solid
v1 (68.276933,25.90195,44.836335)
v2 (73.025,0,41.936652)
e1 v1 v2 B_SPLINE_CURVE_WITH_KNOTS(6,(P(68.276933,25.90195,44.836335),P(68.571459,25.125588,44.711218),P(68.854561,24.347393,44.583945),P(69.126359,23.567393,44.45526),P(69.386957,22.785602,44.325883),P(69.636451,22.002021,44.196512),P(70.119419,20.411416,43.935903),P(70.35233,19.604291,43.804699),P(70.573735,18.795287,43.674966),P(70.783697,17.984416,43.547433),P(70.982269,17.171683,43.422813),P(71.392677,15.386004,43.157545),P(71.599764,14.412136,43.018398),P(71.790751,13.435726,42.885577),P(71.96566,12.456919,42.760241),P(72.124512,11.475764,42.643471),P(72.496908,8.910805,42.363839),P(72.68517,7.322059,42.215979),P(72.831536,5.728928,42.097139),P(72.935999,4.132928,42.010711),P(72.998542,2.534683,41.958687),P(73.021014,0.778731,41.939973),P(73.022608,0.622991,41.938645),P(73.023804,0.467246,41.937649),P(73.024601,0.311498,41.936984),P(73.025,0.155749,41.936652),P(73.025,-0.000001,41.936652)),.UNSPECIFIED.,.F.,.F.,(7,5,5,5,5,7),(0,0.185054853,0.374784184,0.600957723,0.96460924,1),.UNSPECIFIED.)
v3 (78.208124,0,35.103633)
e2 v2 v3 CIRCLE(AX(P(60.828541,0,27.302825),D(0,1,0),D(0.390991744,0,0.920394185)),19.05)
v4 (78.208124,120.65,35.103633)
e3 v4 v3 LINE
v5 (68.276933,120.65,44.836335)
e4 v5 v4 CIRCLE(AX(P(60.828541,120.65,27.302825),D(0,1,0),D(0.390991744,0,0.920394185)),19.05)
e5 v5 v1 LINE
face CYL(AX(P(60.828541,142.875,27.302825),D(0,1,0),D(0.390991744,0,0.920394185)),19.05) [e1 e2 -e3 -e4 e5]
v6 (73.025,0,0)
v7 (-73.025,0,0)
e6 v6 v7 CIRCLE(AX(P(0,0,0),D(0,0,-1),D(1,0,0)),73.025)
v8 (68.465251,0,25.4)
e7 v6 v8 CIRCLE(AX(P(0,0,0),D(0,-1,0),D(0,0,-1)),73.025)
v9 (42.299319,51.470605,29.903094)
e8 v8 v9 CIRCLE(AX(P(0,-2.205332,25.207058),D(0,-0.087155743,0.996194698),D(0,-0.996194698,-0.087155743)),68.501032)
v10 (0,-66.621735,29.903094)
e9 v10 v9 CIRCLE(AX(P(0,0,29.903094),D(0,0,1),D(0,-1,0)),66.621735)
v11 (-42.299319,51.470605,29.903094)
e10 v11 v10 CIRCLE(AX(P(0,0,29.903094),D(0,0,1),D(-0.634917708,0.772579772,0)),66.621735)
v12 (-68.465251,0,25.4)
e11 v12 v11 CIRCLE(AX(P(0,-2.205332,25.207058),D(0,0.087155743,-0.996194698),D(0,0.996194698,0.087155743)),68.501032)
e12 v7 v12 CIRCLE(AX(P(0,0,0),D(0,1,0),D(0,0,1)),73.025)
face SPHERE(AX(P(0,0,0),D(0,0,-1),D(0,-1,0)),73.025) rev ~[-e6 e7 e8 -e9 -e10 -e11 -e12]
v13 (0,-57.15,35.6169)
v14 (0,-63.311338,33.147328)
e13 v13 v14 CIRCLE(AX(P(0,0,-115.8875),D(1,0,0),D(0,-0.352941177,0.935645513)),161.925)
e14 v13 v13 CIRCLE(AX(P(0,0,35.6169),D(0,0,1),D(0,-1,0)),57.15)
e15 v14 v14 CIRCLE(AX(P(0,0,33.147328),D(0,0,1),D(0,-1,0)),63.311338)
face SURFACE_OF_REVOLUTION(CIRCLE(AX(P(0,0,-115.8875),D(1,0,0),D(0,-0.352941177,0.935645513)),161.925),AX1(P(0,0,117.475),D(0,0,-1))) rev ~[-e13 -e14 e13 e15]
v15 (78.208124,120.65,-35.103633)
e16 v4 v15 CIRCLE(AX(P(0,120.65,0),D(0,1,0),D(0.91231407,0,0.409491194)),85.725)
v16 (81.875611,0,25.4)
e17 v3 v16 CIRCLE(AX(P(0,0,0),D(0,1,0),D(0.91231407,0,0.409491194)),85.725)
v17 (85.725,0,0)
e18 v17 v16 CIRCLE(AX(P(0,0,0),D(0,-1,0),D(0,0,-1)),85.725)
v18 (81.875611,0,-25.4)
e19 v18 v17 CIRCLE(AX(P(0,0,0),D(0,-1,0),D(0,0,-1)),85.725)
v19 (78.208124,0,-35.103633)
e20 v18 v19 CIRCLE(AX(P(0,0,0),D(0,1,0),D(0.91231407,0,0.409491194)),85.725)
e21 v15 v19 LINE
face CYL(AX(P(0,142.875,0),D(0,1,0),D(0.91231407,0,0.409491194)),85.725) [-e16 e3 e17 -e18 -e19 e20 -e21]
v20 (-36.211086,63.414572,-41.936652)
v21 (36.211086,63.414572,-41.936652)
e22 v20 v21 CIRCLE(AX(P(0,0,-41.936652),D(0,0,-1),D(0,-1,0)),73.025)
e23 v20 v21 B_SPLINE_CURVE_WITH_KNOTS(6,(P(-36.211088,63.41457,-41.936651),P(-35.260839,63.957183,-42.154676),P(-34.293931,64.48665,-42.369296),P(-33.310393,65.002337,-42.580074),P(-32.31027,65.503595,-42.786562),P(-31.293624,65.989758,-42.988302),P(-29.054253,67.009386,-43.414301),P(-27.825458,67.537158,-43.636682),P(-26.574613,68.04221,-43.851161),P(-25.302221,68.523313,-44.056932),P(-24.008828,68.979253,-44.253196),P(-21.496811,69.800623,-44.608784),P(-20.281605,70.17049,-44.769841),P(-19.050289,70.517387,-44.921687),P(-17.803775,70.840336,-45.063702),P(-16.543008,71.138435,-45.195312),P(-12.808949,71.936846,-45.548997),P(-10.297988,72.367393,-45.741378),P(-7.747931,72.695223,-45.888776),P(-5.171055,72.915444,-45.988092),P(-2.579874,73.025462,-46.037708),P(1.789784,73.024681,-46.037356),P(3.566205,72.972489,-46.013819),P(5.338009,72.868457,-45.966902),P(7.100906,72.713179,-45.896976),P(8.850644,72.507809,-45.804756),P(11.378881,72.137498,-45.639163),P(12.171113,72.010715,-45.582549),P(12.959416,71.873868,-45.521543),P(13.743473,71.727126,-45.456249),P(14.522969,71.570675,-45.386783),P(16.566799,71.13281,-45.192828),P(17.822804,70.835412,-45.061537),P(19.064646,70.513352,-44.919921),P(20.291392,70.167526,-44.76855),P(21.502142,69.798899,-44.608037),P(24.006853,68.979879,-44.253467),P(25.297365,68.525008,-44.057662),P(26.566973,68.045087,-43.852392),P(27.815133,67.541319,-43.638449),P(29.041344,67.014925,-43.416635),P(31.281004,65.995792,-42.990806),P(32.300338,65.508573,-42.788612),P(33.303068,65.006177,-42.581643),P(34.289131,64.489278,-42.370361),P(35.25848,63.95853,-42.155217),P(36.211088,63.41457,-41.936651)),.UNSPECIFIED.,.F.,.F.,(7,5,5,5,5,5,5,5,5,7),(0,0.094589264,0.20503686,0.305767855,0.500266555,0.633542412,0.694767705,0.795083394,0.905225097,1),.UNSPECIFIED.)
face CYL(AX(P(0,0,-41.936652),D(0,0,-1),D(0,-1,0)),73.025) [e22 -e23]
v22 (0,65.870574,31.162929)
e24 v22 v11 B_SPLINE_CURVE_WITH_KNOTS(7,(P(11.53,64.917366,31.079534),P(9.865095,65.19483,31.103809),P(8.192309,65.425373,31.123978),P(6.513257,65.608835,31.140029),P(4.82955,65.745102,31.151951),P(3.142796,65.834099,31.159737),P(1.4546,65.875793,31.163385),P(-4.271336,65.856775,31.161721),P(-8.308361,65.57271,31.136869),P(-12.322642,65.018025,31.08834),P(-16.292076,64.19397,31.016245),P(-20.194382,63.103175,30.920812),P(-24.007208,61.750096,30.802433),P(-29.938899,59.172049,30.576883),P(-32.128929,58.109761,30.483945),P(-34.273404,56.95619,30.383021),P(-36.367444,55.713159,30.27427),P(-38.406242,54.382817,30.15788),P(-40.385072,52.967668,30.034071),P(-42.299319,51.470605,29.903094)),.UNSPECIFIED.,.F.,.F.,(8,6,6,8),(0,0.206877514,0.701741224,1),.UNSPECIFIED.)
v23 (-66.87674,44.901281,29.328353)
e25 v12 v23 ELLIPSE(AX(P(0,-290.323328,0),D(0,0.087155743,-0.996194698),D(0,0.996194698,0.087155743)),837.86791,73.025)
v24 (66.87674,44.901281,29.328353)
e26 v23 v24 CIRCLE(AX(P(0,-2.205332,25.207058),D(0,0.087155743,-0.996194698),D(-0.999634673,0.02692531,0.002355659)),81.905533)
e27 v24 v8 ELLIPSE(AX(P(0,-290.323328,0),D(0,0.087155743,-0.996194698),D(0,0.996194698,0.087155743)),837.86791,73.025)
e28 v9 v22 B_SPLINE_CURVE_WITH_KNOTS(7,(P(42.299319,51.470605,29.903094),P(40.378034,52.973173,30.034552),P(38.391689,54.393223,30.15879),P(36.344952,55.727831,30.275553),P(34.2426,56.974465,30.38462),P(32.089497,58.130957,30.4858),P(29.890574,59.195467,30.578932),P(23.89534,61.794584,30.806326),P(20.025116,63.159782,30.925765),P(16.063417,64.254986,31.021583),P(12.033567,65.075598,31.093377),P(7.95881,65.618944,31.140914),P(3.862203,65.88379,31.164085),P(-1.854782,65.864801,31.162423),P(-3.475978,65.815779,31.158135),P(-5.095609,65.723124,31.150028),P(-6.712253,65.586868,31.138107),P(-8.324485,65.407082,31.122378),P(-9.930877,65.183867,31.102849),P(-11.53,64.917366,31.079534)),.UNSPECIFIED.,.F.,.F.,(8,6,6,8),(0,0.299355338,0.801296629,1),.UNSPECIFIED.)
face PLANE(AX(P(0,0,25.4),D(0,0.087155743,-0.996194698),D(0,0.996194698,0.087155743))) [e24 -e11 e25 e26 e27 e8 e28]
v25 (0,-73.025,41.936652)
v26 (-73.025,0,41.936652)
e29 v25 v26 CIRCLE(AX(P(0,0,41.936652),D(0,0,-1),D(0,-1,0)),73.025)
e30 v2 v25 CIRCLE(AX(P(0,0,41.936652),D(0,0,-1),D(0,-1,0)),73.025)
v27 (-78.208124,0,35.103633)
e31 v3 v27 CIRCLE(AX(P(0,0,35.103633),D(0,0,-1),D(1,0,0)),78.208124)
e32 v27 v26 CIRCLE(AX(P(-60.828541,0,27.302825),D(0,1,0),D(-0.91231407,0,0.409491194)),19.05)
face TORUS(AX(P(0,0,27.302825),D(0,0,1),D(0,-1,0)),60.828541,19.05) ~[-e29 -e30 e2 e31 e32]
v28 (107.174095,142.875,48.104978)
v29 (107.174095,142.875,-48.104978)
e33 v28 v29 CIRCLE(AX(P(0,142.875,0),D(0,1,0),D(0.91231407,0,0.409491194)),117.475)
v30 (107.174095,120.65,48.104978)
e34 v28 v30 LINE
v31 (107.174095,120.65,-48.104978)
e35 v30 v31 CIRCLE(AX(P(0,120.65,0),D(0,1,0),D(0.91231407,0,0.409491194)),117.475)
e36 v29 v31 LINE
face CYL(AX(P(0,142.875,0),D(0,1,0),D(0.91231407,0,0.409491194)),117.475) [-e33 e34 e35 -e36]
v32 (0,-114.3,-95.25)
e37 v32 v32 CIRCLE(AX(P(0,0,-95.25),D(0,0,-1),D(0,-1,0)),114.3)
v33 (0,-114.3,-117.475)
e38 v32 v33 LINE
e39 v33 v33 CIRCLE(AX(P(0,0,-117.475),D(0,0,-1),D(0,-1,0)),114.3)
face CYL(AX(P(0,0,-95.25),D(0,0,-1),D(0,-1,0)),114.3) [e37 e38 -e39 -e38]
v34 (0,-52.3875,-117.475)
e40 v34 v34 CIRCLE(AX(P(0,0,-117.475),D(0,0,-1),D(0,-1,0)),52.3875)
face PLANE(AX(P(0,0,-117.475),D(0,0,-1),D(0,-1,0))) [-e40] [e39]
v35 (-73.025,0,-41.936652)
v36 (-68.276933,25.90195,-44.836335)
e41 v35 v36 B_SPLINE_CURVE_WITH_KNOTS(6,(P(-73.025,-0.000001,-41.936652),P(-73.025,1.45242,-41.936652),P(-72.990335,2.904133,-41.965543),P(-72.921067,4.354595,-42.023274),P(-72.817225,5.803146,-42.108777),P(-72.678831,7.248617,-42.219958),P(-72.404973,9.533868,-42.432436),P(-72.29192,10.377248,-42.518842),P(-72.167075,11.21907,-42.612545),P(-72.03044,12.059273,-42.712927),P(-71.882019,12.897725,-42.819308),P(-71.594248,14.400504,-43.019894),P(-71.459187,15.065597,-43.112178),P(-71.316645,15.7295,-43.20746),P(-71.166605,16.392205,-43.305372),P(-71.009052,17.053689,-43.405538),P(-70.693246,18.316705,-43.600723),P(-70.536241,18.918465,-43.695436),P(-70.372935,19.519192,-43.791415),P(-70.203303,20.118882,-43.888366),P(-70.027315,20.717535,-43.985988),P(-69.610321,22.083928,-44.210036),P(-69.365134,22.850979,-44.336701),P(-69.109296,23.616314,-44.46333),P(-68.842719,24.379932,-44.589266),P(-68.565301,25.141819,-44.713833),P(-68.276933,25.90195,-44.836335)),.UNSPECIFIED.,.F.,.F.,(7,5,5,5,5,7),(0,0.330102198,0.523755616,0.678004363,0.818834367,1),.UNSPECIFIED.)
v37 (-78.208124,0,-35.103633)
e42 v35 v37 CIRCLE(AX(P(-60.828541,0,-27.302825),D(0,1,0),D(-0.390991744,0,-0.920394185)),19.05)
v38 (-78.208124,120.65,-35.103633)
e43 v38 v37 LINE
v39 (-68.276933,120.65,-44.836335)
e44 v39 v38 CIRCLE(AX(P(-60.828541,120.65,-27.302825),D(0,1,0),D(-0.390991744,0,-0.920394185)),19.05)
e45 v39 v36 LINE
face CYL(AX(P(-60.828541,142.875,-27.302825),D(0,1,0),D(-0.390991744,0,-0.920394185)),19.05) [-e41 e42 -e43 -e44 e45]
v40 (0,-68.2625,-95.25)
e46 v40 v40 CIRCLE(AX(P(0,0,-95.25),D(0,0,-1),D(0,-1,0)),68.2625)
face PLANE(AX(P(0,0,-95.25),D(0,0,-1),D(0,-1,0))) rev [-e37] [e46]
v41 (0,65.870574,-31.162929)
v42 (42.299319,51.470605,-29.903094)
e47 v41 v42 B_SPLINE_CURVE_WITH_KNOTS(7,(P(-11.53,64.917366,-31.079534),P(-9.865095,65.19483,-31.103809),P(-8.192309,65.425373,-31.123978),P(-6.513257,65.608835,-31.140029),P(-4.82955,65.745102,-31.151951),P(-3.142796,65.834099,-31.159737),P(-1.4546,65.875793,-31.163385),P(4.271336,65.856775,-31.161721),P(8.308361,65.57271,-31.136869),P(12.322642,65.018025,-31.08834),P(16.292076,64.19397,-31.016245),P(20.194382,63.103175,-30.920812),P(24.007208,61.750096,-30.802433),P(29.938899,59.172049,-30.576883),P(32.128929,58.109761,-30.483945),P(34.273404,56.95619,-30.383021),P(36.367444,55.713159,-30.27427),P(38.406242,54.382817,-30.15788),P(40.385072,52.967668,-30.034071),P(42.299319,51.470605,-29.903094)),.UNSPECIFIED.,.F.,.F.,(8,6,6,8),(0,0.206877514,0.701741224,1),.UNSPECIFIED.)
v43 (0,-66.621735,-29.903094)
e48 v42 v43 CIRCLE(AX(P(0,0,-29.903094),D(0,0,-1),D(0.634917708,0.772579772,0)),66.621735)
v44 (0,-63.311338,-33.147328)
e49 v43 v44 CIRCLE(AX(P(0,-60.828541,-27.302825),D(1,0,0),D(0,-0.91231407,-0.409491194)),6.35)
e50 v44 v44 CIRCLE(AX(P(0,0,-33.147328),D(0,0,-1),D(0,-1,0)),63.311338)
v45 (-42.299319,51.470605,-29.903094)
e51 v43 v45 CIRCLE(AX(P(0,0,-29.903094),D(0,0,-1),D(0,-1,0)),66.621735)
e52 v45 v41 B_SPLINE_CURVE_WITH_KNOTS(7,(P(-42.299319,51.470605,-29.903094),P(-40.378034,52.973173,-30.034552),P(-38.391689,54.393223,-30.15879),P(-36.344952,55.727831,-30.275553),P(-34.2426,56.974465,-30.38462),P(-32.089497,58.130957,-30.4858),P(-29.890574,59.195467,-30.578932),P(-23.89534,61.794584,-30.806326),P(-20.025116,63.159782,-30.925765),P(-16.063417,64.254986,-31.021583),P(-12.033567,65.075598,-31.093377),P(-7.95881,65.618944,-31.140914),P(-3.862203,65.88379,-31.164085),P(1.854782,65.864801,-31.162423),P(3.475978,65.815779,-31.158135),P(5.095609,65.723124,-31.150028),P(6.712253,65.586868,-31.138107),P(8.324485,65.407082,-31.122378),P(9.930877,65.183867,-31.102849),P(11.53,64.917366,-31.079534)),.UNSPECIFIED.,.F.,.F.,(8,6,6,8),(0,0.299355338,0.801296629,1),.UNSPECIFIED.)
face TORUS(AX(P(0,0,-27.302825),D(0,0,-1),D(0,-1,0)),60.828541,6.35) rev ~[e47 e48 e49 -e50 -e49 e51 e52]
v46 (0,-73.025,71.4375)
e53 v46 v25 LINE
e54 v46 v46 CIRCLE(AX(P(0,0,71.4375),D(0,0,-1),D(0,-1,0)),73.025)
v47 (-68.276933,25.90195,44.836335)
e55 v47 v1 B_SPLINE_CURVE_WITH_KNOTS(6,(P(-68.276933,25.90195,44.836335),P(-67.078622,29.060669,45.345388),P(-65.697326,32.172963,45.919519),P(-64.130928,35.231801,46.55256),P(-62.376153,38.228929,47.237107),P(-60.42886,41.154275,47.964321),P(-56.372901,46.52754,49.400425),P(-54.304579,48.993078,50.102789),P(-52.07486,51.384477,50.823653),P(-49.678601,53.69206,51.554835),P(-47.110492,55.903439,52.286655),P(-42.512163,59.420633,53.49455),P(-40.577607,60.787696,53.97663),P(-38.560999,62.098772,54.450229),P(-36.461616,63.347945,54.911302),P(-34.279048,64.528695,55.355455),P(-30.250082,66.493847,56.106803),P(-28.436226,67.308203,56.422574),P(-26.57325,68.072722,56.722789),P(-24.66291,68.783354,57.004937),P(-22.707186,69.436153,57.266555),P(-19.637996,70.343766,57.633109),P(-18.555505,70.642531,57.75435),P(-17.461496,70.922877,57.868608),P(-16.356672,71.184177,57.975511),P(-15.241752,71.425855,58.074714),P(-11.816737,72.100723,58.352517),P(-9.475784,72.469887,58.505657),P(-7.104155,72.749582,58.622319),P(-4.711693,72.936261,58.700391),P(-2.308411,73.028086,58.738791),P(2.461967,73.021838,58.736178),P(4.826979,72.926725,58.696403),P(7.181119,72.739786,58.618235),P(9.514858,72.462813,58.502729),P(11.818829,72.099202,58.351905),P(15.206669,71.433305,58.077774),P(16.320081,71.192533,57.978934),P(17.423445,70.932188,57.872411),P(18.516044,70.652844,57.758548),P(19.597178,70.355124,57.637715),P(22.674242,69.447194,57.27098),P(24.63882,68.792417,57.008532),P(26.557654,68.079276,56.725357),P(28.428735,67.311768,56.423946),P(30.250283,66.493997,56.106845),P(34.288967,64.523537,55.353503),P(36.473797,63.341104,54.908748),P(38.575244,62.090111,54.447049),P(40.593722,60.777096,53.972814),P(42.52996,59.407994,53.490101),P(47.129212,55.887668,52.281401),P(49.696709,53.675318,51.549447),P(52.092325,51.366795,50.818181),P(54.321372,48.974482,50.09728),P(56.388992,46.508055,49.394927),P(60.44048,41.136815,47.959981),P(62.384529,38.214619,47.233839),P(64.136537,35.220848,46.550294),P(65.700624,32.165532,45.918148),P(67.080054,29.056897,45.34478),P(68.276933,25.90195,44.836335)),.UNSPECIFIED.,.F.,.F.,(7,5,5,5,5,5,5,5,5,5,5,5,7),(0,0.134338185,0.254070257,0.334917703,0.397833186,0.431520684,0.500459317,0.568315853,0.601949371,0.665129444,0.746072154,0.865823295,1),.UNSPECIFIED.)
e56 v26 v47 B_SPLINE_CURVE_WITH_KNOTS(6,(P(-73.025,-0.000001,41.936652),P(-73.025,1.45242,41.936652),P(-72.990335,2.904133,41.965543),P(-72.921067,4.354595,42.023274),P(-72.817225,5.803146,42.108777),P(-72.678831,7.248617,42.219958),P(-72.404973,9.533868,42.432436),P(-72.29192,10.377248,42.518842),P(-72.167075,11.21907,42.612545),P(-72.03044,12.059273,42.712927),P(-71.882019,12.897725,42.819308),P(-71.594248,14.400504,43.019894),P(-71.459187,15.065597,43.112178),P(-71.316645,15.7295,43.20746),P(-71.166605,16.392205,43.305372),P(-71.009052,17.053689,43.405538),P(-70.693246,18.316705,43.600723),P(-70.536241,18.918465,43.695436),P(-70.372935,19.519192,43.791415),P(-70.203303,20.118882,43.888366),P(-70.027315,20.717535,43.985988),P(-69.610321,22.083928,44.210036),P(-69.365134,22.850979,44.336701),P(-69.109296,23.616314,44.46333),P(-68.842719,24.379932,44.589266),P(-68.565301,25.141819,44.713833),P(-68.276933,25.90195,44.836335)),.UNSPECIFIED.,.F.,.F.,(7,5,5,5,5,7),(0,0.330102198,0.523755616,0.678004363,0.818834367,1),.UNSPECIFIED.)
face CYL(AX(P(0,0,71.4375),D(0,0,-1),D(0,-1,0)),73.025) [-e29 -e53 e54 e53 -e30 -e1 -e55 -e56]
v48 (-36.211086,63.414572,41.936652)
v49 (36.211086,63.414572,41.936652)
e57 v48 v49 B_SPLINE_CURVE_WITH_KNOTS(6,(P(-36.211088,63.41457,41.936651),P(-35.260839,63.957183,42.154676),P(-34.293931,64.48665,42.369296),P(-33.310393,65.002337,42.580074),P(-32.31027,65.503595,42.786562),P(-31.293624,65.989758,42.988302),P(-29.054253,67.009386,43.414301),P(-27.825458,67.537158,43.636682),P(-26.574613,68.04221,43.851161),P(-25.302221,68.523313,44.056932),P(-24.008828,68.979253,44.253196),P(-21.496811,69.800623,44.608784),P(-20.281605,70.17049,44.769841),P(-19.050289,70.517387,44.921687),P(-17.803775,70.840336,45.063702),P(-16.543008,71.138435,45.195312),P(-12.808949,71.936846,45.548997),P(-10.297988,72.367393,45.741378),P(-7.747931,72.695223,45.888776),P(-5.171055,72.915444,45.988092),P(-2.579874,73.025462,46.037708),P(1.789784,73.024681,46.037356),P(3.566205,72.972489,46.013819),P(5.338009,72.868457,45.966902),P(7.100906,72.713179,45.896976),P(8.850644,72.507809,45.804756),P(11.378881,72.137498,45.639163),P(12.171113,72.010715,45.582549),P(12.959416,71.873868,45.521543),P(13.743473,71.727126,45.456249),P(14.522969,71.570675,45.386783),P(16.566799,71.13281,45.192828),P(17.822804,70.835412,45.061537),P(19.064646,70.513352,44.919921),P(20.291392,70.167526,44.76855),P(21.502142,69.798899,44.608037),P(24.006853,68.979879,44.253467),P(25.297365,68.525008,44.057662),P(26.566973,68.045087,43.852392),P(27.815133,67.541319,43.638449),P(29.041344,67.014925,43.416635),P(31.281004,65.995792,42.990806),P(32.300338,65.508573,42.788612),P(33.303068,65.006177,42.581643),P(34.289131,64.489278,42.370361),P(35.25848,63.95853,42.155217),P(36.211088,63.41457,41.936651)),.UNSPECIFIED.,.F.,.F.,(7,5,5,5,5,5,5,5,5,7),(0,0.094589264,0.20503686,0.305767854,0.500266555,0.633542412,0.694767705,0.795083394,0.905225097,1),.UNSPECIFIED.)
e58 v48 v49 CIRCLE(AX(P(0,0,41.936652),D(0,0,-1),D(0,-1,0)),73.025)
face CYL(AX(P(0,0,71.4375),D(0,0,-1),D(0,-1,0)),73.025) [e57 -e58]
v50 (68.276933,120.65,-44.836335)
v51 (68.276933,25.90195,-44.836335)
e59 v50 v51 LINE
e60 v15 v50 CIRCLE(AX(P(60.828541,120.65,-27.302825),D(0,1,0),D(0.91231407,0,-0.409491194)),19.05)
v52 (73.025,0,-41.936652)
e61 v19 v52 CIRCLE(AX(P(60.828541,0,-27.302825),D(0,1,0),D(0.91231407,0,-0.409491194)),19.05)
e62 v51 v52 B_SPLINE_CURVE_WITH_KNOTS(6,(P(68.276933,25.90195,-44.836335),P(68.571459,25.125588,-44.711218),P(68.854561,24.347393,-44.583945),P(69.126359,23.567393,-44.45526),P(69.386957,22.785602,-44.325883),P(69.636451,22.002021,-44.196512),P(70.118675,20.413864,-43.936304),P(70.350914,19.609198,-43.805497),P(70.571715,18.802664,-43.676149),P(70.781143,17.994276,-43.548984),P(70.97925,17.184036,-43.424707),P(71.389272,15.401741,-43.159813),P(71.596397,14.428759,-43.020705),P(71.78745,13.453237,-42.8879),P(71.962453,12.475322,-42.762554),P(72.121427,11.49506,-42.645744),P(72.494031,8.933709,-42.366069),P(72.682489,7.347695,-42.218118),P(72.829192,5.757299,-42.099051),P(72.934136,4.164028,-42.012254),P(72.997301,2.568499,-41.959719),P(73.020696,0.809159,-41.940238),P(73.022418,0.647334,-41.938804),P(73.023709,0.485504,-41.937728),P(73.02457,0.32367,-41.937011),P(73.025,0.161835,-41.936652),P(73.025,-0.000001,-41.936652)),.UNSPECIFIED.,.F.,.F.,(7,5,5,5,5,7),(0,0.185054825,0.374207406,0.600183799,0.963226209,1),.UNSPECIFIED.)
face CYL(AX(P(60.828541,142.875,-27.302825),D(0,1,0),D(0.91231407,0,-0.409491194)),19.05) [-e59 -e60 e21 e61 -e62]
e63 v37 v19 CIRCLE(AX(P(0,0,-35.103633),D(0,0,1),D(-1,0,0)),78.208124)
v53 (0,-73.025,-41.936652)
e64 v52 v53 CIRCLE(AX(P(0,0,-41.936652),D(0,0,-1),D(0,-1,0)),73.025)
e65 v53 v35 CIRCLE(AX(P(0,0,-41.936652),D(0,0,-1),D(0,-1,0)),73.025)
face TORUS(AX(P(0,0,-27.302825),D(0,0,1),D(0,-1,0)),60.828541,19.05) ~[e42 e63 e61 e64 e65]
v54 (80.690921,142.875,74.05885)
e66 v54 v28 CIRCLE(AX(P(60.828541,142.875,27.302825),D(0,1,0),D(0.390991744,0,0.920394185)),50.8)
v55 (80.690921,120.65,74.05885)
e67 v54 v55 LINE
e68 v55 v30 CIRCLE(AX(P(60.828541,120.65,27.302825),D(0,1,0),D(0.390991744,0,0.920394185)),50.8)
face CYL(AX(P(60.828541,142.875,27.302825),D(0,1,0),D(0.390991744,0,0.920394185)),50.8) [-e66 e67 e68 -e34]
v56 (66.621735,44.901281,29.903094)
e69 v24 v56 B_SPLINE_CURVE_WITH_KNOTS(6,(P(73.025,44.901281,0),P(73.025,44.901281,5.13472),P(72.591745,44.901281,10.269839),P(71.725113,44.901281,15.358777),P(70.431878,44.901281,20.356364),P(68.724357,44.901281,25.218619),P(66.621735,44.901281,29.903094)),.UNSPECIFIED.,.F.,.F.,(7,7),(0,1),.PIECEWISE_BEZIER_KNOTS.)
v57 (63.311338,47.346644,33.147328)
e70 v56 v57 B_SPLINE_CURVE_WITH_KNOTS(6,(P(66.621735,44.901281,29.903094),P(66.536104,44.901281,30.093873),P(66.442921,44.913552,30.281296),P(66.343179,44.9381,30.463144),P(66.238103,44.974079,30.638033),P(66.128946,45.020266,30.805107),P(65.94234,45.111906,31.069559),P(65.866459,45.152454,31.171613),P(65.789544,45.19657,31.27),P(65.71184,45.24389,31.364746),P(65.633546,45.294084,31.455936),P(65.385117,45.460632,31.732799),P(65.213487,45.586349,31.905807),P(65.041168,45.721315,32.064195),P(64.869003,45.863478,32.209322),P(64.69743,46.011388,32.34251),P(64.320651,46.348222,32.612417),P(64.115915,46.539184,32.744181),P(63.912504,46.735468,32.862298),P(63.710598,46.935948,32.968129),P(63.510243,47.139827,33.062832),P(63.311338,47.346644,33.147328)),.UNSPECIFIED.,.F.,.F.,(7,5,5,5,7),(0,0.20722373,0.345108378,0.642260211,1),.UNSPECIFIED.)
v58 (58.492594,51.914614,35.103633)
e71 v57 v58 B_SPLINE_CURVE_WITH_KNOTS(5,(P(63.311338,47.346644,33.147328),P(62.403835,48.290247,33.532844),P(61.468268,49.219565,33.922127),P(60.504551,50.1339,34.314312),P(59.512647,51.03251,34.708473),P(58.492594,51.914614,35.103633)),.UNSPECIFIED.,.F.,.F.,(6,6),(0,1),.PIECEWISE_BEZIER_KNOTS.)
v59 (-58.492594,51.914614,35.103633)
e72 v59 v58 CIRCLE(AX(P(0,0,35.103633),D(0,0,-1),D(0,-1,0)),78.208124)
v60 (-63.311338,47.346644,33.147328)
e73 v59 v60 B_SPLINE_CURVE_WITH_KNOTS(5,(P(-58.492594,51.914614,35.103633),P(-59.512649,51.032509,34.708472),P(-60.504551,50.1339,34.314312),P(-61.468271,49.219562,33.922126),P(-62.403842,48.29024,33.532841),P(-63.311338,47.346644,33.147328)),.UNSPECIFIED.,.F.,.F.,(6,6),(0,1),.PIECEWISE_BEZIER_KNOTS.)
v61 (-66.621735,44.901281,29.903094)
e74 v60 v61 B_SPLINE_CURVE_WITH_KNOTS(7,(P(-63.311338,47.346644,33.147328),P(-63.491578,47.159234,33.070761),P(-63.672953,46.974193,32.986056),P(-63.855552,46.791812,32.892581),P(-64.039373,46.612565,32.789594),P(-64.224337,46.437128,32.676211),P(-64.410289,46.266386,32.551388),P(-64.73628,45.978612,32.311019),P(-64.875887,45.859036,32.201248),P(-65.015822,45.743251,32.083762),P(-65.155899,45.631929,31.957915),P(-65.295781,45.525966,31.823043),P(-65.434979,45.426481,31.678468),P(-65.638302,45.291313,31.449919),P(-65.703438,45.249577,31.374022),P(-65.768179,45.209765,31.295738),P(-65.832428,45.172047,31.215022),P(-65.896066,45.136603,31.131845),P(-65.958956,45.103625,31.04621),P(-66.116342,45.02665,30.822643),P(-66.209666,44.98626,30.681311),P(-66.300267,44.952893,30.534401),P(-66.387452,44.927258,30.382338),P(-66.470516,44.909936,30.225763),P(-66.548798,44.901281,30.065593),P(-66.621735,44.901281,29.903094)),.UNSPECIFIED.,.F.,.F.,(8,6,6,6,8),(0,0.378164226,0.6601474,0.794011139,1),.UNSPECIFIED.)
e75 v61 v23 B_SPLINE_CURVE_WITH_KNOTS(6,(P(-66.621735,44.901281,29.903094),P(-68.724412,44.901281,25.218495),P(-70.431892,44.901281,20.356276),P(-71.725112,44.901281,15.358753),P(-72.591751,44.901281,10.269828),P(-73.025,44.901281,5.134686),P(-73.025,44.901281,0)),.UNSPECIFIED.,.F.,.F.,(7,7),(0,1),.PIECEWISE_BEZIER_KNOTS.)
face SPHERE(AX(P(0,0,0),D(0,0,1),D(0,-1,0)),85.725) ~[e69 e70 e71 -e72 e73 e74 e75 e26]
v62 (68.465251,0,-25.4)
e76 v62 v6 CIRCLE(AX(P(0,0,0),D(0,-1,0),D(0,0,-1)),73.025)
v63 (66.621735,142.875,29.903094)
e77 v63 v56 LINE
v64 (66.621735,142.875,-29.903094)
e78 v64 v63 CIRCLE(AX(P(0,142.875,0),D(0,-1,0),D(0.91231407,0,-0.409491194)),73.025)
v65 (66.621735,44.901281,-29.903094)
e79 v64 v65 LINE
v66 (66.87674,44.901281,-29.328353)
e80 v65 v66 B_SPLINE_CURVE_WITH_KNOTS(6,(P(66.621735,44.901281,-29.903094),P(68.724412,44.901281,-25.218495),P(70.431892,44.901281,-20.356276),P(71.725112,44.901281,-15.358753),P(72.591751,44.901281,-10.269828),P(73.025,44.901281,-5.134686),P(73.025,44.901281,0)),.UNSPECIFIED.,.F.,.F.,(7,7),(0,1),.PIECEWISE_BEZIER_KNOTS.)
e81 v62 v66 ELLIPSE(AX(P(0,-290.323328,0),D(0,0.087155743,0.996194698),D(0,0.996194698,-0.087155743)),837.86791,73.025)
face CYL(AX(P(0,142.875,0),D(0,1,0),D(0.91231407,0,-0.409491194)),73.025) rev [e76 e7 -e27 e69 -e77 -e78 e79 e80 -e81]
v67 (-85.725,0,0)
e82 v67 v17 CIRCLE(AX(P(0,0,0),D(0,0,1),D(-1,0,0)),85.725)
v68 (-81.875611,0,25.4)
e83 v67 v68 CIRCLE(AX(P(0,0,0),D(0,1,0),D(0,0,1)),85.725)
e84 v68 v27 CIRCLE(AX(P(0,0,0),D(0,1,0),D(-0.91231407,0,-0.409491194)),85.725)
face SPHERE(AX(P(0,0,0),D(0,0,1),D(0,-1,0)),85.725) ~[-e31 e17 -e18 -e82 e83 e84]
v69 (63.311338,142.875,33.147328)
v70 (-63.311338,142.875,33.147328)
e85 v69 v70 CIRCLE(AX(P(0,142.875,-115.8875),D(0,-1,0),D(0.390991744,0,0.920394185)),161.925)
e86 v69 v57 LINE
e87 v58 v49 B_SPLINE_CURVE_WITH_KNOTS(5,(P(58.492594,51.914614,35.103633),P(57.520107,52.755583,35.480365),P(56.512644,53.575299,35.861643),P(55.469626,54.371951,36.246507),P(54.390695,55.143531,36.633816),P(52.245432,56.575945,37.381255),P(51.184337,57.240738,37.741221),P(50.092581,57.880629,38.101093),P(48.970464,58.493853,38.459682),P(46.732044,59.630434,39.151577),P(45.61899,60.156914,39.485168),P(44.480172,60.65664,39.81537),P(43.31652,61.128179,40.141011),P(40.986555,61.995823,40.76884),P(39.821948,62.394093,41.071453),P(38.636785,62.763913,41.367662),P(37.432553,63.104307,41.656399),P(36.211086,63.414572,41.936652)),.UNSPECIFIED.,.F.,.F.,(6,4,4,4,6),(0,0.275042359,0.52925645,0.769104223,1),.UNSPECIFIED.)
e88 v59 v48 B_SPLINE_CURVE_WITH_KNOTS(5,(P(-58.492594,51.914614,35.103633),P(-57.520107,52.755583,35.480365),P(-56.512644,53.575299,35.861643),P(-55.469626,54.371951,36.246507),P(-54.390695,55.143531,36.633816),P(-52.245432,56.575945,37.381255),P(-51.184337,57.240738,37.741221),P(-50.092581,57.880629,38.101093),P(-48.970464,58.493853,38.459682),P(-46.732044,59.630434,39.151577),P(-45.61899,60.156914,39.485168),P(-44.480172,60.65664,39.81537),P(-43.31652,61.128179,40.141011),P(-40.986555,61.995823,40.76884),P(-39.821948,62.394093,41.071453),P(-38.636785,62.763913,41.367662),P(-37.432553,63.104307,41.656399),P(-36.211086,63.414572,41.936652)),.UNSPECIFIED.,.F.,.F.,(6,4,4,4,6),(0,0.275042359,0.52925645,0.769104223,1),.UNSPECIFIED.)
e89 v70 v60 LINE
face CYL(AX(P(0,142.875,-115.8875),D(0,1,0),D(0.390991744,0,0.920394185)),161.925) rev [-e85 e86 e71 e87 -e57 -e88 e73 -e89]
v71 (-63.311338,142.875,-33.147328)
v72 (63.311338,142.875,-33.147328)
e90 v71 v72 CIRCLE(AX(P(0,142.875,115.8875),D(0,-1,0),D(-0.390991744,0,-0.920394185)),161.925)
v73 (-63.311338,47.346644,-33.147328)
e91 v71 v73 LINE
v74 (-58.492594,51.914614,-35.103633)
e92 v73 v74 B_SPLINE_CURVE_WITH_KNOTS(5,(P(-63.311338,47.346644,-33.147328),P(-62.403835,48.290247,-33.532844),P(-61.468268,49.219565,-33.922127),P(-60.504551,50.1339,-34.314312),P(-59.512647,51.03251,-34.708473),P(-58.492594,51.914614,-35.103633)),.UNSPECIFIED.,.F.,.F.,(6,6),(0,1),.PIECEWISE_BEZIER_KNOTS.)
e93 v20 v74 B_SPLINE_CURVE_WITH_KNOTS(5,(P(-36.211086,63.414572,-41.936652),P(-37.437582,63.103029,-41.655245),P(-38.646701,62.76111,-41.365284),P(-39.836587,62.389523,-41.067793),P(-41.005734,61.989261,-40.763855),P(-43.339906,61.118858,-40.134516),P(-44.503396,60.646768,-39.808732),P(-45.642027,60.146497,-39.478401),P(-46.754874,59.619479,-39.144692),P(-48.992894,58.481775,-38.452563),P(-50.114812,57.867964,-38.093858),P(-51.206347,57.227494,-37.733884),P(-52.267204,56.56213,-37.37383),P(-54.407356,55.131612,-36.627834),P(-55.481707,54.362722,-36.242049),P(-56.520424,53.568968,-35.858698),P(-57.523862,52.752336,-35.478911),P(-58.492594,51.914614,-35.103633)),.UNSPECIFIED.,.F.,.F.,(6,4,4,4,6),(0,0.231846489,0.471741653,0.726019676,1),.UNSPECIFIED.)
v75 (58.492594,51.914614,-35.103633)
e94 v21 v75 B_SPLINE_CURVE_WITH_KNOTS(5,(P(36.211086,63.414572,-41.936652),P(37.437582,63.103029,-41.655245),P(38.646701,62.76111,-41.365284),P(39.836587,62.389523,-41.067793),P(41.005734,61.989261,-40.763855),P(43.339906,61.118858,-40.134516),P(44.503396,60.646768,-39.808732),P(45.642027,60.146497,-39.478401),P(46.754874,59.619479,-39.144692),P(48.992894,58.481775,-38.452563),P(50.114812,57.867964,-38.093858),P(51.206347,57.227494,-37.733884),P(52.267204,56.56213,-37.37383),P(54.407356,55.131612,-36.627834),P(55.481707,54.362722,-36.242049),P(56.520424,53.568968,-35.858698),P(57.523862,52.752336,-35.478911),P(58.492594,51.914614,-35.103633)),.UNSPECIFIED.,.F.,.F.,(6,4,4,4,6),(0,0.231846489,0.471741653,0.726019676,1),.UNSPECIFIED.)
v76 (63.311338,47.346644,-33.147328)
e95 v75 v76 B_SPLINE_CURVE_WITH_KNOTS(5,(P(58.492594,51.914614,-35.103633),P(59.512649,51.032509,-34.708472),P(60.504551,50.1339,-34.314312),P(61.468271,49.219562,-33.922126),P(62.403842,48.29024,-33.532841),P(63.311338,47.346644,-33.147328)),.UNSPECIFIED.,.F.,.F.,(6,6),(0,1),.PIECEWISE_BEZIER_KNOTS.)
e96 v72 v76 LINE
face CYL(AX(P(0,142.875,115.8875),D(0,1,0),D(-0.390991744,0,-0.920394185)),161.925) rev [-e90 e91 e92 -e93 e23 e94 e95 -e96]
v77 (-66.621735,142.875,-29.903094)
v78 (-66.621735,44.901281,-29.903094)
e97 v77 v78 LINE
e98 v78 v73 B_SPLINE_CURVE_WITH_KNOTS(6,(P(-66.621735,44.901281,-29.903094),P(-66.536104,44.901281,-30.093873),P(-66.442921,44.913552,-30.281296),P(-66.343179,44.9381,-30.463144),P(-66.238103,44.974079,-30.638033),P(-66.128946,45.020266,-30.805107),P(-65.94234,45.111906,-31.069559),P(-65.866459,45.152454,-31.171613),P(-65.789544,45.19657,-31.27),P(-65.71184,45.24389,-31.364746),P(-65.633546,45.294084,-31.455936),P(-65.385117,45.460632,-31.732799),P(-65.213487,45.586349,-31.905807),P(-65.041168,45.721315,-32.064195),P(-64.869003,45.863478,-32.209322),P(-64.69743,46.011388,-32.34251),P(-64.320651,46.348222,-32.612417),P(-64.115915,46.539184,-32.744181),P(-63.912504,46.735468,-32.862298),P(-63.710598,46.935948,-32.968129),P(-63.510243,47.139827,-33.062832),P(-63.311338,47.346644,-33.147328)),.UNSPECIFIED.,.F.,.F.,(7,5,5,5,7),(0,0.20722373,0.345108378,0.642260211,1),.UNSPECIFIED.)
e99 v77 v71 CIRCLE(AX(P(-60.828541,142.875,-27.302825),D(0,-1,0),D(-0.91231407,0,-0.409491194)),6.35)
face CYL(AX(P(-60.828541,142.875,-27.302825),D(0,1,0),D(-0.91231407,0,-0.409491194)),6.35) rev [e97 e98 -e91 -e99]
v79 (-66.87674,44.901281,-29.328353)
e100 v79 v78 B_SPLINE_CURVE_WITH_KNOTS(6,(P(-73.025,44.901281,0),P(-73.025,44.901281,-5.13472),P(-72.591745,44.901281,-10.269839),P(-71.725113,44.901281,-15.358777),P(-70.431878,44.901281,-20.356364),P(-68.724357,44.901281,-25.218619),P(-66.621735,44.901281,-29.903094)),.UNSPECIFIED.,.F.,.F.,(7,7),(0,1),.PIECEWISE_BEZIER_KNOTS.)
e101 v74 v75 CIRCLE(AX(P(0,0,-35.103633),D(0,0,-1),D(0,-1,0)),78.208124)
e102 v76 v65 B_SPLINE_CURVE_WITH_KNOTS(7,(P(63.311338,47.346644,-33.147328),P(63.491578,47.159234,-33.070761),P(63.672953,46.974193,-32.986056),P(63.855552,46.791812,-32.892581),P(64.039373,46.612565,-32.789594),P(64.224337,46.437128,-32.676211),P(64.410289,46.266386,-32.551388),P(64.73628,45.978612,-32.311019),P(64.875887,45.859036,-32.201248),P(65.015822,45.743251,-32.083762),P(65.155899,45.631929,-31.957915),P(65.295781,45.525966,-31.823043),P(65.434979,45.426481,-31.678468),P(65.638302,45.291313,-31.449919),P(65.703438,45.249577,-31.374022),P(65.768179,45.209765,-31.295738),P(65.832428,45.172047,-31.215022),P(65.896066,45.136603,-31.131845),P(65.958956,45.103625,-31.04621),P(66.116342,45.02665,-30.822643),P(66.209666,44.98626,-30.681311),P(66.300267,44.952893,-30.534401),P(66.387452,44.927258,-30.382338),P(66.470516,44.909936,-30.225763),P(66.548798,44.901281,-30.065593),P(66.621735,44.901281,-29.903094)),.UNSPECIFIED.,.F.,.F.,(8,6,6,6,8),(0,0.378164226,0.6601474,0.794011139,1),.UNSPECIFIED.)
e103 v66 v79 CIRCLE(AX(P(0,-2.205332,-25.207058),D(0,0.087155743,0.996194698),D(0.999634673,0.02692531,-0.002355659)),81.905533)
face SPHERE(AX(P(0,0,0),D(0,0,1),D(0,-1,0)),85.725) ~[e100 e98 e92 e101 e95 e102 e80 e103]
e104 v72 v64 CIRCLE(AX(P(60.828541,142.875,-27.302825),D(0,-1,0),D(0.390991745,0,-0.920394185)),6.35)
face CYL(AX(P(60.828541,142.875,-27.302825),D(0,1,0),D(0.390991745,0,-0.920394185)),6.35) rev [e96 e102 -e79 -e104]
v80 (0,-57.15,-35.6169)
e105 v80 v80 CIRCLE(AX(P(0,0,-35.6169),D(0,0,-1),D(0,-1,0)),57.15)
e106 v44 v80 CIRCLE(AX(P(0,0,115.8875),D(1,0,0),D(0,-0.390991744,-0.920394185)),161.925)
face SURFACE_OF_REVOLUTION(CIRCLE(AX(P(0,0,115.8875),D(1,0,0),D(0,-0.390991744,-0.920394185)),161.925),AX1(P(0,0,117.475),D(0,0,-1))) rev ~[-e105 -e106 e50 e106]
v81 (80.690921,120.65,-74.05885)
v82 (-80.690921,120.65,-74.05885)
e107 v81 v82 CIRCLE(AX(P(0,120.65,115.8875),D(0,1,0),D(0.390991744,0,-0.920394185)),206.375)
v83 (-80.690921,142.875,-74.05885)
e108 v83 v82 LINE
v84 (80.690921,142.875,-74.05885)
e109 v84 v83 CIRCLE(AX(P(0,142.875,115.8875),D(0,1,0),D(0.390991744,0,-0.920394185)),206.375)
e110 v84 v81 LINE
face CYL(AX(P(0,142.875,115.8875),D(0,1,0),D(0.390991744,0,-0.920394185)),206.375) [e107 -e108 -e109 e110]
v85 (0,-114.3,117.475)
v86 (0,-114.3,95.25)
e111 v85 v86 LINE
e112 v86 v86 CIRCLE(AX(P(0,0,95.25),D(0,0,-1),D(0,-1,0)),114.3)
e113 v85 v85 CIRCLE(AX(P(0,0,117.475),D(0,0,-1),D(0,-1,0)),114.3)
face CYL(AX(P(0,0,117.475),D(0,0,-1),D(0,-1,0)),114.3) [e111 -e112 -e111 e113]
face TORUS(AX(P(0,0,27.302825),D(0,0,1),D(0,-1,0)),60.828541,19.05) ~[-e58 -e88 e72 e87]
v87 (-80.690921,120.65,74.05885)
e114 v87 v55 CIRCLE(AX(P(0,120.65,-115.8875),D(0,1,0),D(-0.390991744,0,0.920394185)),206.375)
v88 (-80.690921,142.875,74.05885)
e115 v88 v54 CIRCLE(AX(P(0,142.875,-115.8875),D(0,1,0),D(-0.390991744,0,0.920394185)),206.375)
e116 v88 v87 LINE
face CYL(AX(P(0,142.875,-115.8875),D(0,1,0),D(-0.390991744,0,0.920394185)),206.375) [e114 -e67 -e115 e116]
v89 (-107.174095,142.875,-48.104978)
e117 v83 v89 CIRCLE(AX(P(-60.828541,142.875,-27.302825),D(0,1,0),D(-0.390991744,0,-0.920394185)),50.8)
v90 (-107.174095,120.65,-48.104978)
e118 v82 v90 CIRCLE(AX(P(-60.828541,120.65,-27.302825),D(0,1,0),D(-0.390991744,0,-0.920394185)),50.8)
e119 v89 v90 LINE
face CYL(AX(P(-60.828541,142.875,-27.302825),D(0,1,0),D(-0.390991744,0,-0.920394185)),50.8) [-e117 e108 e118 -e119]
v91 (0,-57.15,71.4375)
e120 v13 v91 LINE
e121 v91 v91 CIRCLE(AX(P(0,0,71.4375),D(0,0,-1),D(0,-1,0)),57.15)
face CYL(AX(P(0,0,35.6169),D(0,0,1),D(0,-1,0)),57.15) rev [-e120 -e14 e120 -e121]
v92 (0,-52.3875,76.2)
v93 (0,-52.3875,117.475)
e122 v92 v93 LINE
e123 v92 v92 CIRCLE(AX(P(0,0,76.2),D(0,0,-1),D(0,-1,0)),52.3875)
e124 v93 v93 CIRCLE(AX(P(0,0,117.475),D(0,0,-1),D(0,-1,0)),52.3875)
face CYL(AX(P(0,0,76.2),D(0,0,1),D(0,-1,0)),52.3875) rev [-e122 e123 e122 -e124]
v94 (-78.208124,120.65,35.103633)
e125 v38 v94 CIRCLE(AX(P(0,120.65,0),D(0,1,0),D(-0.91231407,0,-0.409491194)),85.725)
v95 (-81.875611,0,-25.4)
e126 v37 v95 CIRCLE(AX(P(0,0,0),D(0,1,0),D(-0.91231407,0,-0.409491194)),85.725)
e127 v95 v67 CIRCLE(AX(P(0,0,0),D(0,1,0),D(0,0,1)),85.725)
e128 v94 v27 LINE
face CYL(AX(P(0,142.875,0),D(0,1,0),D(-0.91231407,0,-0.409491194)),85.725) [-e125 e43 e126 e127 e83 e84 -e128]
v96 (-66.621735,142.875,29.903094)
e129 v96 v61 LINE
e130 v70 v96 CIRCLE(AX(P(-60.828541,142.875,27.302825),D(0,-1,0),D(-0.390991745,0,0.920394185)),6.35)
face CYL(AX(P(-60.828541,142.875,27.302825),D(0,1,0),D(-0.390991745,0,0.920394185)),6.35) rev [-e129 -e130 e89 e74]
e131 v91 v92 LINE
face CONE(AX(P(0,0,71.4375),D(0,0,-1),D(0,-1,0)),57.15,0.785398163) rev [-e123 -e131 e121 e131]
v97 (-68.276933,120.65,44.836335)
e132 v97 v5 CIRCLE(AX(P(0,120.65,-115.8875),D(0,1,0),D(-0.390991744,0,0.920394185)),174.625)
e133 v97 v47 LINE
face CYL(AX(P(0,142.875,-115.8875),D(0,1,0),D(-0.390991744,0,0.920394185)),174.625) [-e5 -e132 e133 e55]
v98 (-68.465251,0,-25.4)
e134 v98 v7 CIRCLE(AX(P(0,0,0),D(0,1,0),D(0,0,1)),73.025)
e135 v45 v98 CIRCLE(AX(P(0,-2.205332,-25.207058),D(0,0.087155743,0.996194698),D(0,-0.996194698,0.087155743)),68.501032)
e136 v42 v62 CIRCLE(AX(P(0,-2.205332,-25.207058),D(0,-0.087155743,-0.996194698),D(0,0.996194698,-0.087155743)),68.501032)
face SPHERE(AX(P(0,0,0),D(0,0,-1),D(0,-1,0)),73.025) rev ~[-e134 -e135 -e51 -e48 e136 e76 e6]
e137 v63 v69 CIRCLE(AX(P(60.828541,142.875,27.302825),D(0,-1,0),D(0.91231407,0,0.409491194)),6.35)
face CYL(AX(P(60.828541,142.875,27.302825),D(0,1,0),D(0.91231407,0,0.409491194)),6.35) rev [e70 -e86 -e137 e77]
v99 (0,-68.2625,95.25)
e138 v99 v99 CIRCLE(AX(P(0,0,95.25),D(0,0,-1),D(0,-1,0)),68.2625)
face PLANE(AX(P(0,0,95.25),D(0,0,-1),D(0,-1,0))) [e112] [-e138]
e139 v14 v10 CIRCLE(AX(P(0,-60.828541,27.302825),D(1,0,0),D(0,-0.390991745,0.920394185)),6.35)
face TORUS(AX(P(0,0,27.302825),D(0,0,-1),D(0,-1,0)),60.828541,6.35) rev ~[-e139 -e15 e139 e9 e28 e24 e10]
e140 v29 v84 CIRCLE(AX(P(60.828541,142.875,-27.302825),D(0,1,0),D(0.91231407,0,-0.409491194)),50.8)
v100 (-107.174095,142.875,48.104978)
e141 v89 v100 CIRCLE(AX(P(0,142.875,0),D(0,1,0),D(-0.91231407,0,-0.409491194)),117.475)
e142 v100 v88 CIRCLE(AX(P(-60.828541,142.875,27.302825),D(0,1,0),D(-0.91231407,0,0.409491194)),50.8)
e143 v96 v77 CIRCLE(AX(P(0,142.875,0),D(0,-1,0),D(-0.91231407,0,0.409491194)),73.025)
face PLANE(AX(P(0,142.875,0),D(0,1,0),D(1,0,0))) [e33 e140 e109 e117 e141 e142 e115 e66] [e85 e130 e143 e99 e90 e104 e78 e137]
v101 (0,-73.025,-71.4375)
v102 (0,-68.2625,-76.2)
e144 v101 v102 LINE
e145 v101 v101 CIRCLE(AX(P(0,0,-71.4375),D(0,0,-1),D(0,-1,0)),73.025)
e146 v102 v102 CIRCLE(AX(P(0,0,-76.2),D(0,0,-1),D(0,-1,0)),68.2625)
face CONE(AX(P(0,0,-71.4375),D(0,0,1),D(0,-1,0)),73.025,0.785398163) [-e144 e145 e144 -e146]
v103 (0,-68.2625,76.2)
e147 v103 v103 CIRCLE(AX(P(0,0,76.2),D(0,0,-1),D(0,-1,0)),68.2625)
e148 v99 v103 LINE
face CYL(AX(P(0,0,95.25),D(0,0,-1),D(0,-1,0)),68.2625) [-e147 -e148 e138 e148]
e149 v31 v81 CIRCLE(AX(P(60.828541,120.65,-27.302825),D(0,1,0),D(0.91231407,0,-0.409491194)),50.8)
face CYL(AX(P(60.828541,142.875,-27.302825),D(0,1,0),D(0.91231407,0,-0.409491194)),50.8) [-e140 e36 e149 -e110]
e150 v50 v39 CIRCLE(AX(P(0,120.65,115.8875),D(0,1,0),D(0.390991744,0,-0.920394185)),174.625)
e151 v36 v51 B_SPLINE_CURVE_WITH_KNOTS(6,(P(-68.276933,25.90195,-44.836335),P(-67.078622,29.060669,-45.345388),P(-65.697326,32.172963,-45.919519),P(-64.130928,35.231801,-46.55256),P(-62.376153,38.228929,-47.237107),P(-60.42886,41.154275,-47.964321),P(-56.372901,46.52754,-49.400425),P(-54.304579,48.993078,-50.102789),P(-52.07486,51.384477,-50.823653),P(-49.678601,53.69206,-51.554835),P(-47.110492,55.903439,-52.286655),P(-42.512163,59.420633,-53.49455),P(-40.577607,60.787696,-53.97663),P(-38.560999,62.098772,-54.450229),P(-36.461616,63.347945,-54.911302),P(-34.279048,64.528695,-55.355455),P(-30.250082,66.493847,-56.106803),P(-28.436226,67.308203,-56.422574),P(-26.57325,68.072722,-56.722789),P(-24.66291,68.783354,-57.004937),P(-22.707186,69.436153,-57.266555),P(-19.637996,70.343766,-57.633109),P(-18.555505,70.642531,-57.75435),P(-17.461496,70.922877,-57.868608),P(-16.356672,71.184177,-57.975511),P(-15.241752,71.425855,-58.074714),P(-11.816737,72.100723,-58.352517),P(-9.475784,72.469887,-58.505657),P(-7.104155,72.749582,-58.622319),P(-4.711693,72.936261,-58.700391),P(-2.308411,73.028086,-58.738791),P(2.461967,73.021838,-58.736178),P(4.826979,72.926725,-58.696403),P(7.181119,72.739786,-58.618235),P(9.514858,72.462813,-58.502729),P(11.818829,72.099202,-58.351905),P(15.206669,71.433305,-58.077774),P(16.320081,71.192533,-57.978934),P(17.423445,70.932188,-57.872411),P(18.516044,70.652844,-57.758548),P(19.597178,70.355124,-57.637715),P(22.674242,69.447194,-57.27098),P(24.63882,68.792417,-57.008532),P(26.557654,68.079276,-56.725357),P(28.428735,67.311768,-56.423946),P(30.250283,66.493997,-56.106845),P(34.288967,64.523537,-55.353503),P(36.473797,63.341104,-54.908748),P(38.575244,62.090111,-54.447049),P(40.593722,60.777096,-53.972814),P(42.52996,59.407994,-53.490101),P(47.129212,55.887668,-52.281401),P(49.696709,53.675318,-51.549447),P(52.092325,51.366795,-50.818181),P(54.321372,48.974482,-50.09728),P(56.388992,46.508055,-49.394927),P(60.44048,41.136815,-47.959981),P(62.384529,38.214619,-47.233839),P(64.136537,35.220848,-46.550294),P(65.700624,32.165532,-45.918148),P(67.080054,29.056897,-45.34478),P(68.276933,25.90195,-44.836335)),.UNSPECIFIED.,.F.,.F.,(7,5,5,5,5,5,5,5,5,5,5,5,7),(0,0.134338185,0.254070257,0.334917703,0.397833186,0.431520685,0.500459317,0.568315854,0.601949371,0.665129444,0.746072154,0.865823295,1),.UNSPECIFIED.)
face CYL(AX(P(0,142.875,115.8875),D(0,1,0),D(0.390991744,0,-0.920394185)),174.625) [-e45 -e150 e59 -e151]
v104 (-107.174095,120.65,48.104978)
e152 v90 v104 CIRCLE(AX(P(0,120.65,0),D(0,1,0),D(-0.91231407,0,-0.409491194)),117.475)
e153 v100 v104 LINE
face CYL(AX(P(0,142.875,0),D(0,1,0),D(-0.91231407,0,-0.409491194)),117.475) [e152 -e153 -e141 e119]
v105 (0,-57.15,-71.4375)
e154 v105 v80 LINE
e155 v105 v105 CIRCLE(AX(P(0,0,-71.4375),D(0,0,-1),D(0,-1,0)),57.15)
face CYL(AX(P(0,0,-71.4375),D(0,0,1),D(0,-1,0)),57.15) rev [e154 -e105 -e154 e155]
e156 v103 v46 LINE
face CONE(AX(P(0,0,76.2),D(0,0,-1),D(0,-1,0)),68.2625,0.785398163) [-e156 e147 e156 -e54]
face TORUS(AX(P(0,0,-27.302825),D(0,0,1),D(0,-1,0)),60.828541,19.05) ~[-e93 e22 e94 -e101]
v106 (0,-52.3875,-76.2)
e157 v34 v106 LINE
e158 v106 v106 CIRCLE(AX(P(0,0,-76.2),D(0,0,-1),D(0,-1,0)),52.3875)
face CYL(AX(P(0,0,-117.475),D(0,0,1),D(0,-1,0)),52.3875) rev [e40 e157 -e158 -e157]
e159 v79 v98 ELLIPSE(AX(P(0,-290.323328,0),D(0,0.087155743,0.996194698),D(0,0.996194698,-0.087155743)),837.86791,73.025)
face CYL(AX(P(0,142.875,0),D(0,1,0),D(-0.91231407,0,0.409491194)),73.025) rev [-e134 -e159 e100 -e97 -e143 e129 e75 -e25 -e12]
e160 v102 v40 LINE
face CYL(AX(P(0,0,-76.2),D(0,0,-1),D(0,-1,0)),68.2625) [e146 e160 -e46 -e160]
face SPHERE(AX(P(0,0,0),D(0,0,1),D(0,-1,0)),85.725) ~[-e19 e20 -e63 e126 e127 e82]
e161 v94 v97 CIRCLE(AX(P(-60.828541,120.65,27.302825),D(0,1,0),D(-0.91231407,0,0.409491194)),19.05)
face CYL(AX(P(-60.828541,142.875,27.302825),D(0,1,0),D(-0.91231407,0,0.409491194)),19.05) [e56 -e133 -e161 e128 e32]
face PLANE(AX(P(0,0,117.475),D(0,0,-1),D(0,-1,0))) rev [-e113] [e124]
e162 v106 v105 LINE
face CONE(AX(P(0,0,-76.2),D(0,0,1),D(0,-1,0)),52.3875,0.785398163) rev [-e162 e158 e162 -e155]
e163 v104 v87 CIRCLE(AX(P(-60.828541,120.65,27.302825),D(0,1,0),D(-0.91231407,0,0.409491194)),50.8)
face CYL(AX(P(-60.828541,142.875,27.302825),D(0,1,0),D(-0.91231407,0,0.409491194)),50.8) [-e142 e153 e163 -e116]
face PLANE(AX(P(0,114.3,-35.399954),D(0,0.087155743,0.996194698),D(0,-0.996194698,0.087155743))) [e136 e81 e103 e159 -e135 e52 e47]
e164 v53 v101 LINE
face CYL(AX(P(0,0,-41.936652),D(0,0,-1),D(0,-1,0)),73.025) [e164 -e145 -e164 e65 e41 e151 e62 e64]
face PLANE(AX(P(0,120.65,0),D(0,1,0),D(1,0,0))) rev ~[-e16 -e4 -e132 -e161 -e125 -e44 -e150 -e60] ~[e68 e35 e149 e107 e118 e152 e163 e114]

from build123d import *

# Parameters (mm, degrees)
CUT_EXTRUDE1_DEPTH             = 115.3
CUT_EXTRUDE1_DEPTH_BACK        = 115.3
BOSS_EXTRUDE1_DEPTH            = 142.875
BOSS_EXTRUDE2_DEPTH            = 22.225
CUT_EXTRUDE2_REACH             = 119.475
CUT_EXTRUDE2_DIRECTION_2_REACH = 119.475


with BuildPart() as part:
    # Sketch1 → Revolve1 (revolve)
    with BuildSketch(Plane(origin=(0, 0, 0), x_dir=(0, 0, -1), z_dir=(1, 0, 0))):
        with BuildLine():
            Line((-76.2, -52.3875), (-117.475, -52.3875))
            Line((-117.475, -52.3875), (-117.475, -114.3))
            Line((-117.475, -114.3), (-95.25, -114.3))
            Line((-95.25, -114.3), (-95.25, -68.2625))
            Line((-95.25, -68.2625), (-76.2, -68.2625))
            Line((-76.2, -68.2625), (-71.4375, -73.025))
            Line((-71.4375, -73.025), (-41.936651857, -73.025))
            ThreePointArc((-41.936651857, -73.025), (-43.560758987, -70.75739219), (-44.836334568, -68.276933343))
            ThreePointArc((-44.836334568, -68.276933343), (-47.073606935, -62.750045829), (-49.120888044, -57.15))
            Line((-49.120888044, -57.15), (-71.4375, -57.15))
            Line((-71.4375, -57.15), (-76.2, -52.3875))
        make_face()
        with BuildLine():
            ThreePointArc((0, -73.025), (15.290494263, -71.406242095), (29.903094423, -66.621734959))
            ThreePointArc((29.903094423, -66.621734959), (31.838045941, -65.273118673), (33.147328418, -63.311338191))
            ThreePointArc((33.147328418, -63.311338191), (34.41368905, -60.243324902), (35.616899689, -57.15))
            Line((35.616899689, -57.15), (49.120888044, -57.15))
            ThreePointArc((49.120888044, -57.15), (47.073606935, -62.750045829), (44.836334568, -68.276933343))
            ThreePointArc((44.836334568, -68.276933343), (40.908487139, -74.162274791), (35.103632583, -78.208123648))
            ThreePointArc((35.103632583, -78.208123648), (17.949710657, -83.824718982), (0, -85.725))
            ThreePointArc((0, -85.725), (-17.949710657, -83.824718982), (-35.103632583, -78.208123648))
            ThreePointArc((-35.103632583, -78.208123648), (-40.908487139, -74.162274791), (-44.836334568, -68.276933343))
            ThreePointArc((-44.836334568, -68.276933343), (-47.073606935, -62.750045829), (-49.120888044, -57.15))
            Line((-49.120888044, -57.15), (-35.616899689, -57.15))
            ThreePointArc((-35.616899689, -57.15), (-34.41368905, -60.243324902), (-33.147328418, -63.311338191))
            ThreePointArc((-33.147328418, -63.311338191), (-31.838045941, -65.273118673), (-29.903094423, -66.621734959))
            ThreePointArc((-29.903094423, -66.621734959), (-15.290494263, -71.406242095), (0, -73.025))
        make_face()
        with BuildLine():
            ThreePointArc((44.836334568, -68.276933343), (43.560758987, -70.75739219), (41.936651857, -73.025))
            Line((41.936651857, -73.025), (71.4375, -73.025))
            Line((71.4375, -73.025), (76.2, -68.2625))
            Line((76.2, -68.2625), (95.25, -68.2625))
            Line((95.25, -68.2625), (95.25, -114.3))
            Line((95.25, -114.3), (117.475, -114.3))
            Line((117.475, -114.3), (117.475, -52.3875))
            Line((117.475, -52.3875), (76.2, -52.3875))
            Line((76.2, -52.3875), (71.4375, -57.15))
            Line((71.4375, -57.15), (49.120888044, -57.15))
            ThreePointArc((49.120888044, -57.15), (47.073606935, -62.750045829), (44.836334568, -68.276933343))
        make_face()
    revolve(axis=Axis((0, 0, 117.475), (0, 0, -1)))

    # Sketch2 → Cut-Extrude1 (cut, two sides)
    with BuildSketch(Plane(origin=(0, 0, 0), x_dir=(0, 0, -1), z_dir=(1, 0, 0))) as cut_extrude1_sk:
        Polygon((-25.4, 0), (-35.399954241, 114.3), (35.399954241, 114.3), (25.4, 0), align=None)
    extrude(amount=CUT_EXTRUDE1_DEPTH, mode=Mode.SUBTRACT)
    extrude(cut_extrude1_sk.sketch, amount=-CUT_EXTRUDE1_DEPTH_BACK, mode=Mode.SUBTRACT)

    # Sketch3 → Boss-Extrude1 (add)
    with BuildSketch(Plane(origin=(0, 142.875, 0), x_dir=(1, 0, 0), z_dir=(0, 1, 0))):
        with BuildLine():
            ThreePointArc((78.208123648, -35.103632583), (85.725, 0), (78.208123648, 35.103632583))
            ThreePointArc((78.208123648, 35.103632583), (74.162274791, 40.908487139), (68.276933343, 44.836334568))
            ThreePointArc((68.276933343, 44.836334568), (0, 58.7375), (-68.276933343, 44.836334568))
            ThreePointArc((-68.276933343, 44.836334568), (-74.162274791, 40.908487139), (-78.208123648, 35.103632583))
            ThreePointArc((-78.208123648, 35.103632583), (-85.725, 0), (-78.208123648, -35.103632583))
            ThreePointArc((-78.208123648, -35.103632583), (-74.162274791, -40.908487139), (-68.276933343, -44.836334568))
            ThreePointArc((-68.276933343, -44.836334568), (0, -58.7375), (68.276933343, -44.836334568))
            ThreePointArc((68.276933343, -44.836334568), (74.162274791, -40.908487139), (78.208123648, -35.103632583))
        make_face()
        with BuildLine():
            ThreePointArc((66.621734959, -29.903094423), (65.273118673, -31.838045941), (63.311338191, -33.147328418))
            ThreePointArc((63.311338191, -33.147328418), (0, -46.0375), (-63.311338191, -33.147328418))
            ThreePointArc((-63.311338191, -33.147328418), (-65.273118673, -31.838045941), (-66.621734959, -29.903094423))
            ThreePointArc((-66.621734959, -29.903094423), (-73.025, 0), (-66.621734959, 29.903094423))
            ThreePointArc((-66.621734959, 29.903094423), (-65.273118673, 31.838045941), (-63.311338191, 33.147328418))
            ThreePointArc((-63.311338191, 33.147328418), (0, 46.0375), (63.311338191, 33.147328418))
            ThreePointArc((63.311338191, 33.147328418), (65.273118673, 31.838045941), (66.621734959, 29.903094423))
            ThreePointArc((66.621734959, 29.903094423), (73.025, 0), (66.621734959, -29.903094423))
        make_face(mode=Mode.SUBTRACT)
    extrude(amount=-BOSS_EXTRUDE1_DEPTH)

    # Sketch3<3> → Boss-Extrude2 (add)
    with BuildSketch(Plane(origin=(0, 142.875, 0), x_dir=(1, 0, 0), z_dir=(0, 1, 0))):
        with BuildLine():
            ThreePointArc((107.174095369, -48.104977984), (117.475, 0), (107.174095369, 48.104977984))
            ThreePointArc((107.174095369, 48.104977984), (96.385165084, 63.584590133), (80.690921224, 74.058849944))
            ThreePointArc((80.690921224, 74.058849944), (0, 90.4875), (-80.690921224, 74.058849944))
            ThreePointArc((-80.690921224, 74.058849944), (-96.385165084, 63.584590133), (-107.174095369, 48.104977984))
            ThreePointArc((-107.174095369, 48.104977984), (-117.475, 0), (-107.174095369, -48.104977984))
            ThreePointArc((-107.174095369, -48.104977984), (-96.385165084, -63.584590133), (-80.690921224, -74.058849944))
            ThreePointArc((-80.690921224, -74.058849944), (0, -90.4875), (80.690921224, -74.058849944))
            ThreePointArc((80.690921224, -74.058849944), (96.385165084, -63.584590133), (107.174095369, -48.104977984))
        make_face()
        with BuildLine():
            ThreePointArc((78.208123648, 35.103632583), (74.162274791, 40.908487139), (68.276933343, 44.836334568))
            ThreePointArc((68.276933343, 44.836334568), (0, 58.7375), (-68.276933343, 44.836334568))
            ThreePointArc((-68.276933343, 44.836334568), (-74.162274791, 40.908487139), (-78.208123648, 35.103632583))
            ThreePointArc((-78.208123648, 35.103632583), (-85.725, 0), (-78.208123648, -35.103632583))
            ThreePointArc((-78.208123648, -35.103632583), (-74.162274791, -40.908487139), (-68.276933343, -44.836334568))
            ThreePointArc((-68.276933343, -44.836334568), (0, -58.7375), (68.276933343, -44.836334568))
            ThreePointArc((68.276933343, -44.836334568), (74.162274791, -40.908487139), (78.208123648, -35.103632583))
            ThreePointArc((78.208123648, -35.103632583), (85.725, 0), (78.208123648, 35.103632583))
        make_face(mode=Mode.SUBTRACT)
    extrude(amount=-BOSS_EXTRUDE2_DEPTH)

    # Sketch5 → Cut-Extrude2 (cut, up to next)
    with BuildSketch(Plane.XY, mode=Mode.PRIVATE) as cut_extrude2_sk1:
        with BuildLine():
            Line((-57.15, 0), (57.15, 0))
            ThreePointArc((57.15, 0), (0, 57.15), (-57.15, 0))
        make_face()
    cut_extrude2_tool1 = extrude(cut_extrude2_sk1.sketch, amount=CUT_EXTRUDE2_REACH, mode=Mode.PRIVATE) & part.part
    add(cut_extrude2_tool1.solids().sort_by_distance((0, 24.255213, 0))[0], mode=Mode.SUBTRACT)

    # Sketch5 → Cut-Extrude2 direction 2 (cut, up to next)
    with BuildSketch(Plane.XY, mode=Mode.PRIVATE) as cut_extrude2_direction_2_sk1:
        with BuildLine():
            Line((-57.15, 0), (57.15, 0))
            ThreePointArc((57.15, 0), (0, 57.15), (-57.15, 0))
        make_face()
    cut_extrude2_direction_2_tool1 = extrude(cut_extrude2_direction_2_sk1.sketch, amount=-CUT_EXTRUDE2_DIRECTION_2_REACH, mode=Mode.PRIVATE) & part.part
    add(cut_extrude2_direction_2_tool1.solids().sort_by_distance((0, 24.255213, 0))[0], mode=Mode.SUBTRACT)


solid = part.part
